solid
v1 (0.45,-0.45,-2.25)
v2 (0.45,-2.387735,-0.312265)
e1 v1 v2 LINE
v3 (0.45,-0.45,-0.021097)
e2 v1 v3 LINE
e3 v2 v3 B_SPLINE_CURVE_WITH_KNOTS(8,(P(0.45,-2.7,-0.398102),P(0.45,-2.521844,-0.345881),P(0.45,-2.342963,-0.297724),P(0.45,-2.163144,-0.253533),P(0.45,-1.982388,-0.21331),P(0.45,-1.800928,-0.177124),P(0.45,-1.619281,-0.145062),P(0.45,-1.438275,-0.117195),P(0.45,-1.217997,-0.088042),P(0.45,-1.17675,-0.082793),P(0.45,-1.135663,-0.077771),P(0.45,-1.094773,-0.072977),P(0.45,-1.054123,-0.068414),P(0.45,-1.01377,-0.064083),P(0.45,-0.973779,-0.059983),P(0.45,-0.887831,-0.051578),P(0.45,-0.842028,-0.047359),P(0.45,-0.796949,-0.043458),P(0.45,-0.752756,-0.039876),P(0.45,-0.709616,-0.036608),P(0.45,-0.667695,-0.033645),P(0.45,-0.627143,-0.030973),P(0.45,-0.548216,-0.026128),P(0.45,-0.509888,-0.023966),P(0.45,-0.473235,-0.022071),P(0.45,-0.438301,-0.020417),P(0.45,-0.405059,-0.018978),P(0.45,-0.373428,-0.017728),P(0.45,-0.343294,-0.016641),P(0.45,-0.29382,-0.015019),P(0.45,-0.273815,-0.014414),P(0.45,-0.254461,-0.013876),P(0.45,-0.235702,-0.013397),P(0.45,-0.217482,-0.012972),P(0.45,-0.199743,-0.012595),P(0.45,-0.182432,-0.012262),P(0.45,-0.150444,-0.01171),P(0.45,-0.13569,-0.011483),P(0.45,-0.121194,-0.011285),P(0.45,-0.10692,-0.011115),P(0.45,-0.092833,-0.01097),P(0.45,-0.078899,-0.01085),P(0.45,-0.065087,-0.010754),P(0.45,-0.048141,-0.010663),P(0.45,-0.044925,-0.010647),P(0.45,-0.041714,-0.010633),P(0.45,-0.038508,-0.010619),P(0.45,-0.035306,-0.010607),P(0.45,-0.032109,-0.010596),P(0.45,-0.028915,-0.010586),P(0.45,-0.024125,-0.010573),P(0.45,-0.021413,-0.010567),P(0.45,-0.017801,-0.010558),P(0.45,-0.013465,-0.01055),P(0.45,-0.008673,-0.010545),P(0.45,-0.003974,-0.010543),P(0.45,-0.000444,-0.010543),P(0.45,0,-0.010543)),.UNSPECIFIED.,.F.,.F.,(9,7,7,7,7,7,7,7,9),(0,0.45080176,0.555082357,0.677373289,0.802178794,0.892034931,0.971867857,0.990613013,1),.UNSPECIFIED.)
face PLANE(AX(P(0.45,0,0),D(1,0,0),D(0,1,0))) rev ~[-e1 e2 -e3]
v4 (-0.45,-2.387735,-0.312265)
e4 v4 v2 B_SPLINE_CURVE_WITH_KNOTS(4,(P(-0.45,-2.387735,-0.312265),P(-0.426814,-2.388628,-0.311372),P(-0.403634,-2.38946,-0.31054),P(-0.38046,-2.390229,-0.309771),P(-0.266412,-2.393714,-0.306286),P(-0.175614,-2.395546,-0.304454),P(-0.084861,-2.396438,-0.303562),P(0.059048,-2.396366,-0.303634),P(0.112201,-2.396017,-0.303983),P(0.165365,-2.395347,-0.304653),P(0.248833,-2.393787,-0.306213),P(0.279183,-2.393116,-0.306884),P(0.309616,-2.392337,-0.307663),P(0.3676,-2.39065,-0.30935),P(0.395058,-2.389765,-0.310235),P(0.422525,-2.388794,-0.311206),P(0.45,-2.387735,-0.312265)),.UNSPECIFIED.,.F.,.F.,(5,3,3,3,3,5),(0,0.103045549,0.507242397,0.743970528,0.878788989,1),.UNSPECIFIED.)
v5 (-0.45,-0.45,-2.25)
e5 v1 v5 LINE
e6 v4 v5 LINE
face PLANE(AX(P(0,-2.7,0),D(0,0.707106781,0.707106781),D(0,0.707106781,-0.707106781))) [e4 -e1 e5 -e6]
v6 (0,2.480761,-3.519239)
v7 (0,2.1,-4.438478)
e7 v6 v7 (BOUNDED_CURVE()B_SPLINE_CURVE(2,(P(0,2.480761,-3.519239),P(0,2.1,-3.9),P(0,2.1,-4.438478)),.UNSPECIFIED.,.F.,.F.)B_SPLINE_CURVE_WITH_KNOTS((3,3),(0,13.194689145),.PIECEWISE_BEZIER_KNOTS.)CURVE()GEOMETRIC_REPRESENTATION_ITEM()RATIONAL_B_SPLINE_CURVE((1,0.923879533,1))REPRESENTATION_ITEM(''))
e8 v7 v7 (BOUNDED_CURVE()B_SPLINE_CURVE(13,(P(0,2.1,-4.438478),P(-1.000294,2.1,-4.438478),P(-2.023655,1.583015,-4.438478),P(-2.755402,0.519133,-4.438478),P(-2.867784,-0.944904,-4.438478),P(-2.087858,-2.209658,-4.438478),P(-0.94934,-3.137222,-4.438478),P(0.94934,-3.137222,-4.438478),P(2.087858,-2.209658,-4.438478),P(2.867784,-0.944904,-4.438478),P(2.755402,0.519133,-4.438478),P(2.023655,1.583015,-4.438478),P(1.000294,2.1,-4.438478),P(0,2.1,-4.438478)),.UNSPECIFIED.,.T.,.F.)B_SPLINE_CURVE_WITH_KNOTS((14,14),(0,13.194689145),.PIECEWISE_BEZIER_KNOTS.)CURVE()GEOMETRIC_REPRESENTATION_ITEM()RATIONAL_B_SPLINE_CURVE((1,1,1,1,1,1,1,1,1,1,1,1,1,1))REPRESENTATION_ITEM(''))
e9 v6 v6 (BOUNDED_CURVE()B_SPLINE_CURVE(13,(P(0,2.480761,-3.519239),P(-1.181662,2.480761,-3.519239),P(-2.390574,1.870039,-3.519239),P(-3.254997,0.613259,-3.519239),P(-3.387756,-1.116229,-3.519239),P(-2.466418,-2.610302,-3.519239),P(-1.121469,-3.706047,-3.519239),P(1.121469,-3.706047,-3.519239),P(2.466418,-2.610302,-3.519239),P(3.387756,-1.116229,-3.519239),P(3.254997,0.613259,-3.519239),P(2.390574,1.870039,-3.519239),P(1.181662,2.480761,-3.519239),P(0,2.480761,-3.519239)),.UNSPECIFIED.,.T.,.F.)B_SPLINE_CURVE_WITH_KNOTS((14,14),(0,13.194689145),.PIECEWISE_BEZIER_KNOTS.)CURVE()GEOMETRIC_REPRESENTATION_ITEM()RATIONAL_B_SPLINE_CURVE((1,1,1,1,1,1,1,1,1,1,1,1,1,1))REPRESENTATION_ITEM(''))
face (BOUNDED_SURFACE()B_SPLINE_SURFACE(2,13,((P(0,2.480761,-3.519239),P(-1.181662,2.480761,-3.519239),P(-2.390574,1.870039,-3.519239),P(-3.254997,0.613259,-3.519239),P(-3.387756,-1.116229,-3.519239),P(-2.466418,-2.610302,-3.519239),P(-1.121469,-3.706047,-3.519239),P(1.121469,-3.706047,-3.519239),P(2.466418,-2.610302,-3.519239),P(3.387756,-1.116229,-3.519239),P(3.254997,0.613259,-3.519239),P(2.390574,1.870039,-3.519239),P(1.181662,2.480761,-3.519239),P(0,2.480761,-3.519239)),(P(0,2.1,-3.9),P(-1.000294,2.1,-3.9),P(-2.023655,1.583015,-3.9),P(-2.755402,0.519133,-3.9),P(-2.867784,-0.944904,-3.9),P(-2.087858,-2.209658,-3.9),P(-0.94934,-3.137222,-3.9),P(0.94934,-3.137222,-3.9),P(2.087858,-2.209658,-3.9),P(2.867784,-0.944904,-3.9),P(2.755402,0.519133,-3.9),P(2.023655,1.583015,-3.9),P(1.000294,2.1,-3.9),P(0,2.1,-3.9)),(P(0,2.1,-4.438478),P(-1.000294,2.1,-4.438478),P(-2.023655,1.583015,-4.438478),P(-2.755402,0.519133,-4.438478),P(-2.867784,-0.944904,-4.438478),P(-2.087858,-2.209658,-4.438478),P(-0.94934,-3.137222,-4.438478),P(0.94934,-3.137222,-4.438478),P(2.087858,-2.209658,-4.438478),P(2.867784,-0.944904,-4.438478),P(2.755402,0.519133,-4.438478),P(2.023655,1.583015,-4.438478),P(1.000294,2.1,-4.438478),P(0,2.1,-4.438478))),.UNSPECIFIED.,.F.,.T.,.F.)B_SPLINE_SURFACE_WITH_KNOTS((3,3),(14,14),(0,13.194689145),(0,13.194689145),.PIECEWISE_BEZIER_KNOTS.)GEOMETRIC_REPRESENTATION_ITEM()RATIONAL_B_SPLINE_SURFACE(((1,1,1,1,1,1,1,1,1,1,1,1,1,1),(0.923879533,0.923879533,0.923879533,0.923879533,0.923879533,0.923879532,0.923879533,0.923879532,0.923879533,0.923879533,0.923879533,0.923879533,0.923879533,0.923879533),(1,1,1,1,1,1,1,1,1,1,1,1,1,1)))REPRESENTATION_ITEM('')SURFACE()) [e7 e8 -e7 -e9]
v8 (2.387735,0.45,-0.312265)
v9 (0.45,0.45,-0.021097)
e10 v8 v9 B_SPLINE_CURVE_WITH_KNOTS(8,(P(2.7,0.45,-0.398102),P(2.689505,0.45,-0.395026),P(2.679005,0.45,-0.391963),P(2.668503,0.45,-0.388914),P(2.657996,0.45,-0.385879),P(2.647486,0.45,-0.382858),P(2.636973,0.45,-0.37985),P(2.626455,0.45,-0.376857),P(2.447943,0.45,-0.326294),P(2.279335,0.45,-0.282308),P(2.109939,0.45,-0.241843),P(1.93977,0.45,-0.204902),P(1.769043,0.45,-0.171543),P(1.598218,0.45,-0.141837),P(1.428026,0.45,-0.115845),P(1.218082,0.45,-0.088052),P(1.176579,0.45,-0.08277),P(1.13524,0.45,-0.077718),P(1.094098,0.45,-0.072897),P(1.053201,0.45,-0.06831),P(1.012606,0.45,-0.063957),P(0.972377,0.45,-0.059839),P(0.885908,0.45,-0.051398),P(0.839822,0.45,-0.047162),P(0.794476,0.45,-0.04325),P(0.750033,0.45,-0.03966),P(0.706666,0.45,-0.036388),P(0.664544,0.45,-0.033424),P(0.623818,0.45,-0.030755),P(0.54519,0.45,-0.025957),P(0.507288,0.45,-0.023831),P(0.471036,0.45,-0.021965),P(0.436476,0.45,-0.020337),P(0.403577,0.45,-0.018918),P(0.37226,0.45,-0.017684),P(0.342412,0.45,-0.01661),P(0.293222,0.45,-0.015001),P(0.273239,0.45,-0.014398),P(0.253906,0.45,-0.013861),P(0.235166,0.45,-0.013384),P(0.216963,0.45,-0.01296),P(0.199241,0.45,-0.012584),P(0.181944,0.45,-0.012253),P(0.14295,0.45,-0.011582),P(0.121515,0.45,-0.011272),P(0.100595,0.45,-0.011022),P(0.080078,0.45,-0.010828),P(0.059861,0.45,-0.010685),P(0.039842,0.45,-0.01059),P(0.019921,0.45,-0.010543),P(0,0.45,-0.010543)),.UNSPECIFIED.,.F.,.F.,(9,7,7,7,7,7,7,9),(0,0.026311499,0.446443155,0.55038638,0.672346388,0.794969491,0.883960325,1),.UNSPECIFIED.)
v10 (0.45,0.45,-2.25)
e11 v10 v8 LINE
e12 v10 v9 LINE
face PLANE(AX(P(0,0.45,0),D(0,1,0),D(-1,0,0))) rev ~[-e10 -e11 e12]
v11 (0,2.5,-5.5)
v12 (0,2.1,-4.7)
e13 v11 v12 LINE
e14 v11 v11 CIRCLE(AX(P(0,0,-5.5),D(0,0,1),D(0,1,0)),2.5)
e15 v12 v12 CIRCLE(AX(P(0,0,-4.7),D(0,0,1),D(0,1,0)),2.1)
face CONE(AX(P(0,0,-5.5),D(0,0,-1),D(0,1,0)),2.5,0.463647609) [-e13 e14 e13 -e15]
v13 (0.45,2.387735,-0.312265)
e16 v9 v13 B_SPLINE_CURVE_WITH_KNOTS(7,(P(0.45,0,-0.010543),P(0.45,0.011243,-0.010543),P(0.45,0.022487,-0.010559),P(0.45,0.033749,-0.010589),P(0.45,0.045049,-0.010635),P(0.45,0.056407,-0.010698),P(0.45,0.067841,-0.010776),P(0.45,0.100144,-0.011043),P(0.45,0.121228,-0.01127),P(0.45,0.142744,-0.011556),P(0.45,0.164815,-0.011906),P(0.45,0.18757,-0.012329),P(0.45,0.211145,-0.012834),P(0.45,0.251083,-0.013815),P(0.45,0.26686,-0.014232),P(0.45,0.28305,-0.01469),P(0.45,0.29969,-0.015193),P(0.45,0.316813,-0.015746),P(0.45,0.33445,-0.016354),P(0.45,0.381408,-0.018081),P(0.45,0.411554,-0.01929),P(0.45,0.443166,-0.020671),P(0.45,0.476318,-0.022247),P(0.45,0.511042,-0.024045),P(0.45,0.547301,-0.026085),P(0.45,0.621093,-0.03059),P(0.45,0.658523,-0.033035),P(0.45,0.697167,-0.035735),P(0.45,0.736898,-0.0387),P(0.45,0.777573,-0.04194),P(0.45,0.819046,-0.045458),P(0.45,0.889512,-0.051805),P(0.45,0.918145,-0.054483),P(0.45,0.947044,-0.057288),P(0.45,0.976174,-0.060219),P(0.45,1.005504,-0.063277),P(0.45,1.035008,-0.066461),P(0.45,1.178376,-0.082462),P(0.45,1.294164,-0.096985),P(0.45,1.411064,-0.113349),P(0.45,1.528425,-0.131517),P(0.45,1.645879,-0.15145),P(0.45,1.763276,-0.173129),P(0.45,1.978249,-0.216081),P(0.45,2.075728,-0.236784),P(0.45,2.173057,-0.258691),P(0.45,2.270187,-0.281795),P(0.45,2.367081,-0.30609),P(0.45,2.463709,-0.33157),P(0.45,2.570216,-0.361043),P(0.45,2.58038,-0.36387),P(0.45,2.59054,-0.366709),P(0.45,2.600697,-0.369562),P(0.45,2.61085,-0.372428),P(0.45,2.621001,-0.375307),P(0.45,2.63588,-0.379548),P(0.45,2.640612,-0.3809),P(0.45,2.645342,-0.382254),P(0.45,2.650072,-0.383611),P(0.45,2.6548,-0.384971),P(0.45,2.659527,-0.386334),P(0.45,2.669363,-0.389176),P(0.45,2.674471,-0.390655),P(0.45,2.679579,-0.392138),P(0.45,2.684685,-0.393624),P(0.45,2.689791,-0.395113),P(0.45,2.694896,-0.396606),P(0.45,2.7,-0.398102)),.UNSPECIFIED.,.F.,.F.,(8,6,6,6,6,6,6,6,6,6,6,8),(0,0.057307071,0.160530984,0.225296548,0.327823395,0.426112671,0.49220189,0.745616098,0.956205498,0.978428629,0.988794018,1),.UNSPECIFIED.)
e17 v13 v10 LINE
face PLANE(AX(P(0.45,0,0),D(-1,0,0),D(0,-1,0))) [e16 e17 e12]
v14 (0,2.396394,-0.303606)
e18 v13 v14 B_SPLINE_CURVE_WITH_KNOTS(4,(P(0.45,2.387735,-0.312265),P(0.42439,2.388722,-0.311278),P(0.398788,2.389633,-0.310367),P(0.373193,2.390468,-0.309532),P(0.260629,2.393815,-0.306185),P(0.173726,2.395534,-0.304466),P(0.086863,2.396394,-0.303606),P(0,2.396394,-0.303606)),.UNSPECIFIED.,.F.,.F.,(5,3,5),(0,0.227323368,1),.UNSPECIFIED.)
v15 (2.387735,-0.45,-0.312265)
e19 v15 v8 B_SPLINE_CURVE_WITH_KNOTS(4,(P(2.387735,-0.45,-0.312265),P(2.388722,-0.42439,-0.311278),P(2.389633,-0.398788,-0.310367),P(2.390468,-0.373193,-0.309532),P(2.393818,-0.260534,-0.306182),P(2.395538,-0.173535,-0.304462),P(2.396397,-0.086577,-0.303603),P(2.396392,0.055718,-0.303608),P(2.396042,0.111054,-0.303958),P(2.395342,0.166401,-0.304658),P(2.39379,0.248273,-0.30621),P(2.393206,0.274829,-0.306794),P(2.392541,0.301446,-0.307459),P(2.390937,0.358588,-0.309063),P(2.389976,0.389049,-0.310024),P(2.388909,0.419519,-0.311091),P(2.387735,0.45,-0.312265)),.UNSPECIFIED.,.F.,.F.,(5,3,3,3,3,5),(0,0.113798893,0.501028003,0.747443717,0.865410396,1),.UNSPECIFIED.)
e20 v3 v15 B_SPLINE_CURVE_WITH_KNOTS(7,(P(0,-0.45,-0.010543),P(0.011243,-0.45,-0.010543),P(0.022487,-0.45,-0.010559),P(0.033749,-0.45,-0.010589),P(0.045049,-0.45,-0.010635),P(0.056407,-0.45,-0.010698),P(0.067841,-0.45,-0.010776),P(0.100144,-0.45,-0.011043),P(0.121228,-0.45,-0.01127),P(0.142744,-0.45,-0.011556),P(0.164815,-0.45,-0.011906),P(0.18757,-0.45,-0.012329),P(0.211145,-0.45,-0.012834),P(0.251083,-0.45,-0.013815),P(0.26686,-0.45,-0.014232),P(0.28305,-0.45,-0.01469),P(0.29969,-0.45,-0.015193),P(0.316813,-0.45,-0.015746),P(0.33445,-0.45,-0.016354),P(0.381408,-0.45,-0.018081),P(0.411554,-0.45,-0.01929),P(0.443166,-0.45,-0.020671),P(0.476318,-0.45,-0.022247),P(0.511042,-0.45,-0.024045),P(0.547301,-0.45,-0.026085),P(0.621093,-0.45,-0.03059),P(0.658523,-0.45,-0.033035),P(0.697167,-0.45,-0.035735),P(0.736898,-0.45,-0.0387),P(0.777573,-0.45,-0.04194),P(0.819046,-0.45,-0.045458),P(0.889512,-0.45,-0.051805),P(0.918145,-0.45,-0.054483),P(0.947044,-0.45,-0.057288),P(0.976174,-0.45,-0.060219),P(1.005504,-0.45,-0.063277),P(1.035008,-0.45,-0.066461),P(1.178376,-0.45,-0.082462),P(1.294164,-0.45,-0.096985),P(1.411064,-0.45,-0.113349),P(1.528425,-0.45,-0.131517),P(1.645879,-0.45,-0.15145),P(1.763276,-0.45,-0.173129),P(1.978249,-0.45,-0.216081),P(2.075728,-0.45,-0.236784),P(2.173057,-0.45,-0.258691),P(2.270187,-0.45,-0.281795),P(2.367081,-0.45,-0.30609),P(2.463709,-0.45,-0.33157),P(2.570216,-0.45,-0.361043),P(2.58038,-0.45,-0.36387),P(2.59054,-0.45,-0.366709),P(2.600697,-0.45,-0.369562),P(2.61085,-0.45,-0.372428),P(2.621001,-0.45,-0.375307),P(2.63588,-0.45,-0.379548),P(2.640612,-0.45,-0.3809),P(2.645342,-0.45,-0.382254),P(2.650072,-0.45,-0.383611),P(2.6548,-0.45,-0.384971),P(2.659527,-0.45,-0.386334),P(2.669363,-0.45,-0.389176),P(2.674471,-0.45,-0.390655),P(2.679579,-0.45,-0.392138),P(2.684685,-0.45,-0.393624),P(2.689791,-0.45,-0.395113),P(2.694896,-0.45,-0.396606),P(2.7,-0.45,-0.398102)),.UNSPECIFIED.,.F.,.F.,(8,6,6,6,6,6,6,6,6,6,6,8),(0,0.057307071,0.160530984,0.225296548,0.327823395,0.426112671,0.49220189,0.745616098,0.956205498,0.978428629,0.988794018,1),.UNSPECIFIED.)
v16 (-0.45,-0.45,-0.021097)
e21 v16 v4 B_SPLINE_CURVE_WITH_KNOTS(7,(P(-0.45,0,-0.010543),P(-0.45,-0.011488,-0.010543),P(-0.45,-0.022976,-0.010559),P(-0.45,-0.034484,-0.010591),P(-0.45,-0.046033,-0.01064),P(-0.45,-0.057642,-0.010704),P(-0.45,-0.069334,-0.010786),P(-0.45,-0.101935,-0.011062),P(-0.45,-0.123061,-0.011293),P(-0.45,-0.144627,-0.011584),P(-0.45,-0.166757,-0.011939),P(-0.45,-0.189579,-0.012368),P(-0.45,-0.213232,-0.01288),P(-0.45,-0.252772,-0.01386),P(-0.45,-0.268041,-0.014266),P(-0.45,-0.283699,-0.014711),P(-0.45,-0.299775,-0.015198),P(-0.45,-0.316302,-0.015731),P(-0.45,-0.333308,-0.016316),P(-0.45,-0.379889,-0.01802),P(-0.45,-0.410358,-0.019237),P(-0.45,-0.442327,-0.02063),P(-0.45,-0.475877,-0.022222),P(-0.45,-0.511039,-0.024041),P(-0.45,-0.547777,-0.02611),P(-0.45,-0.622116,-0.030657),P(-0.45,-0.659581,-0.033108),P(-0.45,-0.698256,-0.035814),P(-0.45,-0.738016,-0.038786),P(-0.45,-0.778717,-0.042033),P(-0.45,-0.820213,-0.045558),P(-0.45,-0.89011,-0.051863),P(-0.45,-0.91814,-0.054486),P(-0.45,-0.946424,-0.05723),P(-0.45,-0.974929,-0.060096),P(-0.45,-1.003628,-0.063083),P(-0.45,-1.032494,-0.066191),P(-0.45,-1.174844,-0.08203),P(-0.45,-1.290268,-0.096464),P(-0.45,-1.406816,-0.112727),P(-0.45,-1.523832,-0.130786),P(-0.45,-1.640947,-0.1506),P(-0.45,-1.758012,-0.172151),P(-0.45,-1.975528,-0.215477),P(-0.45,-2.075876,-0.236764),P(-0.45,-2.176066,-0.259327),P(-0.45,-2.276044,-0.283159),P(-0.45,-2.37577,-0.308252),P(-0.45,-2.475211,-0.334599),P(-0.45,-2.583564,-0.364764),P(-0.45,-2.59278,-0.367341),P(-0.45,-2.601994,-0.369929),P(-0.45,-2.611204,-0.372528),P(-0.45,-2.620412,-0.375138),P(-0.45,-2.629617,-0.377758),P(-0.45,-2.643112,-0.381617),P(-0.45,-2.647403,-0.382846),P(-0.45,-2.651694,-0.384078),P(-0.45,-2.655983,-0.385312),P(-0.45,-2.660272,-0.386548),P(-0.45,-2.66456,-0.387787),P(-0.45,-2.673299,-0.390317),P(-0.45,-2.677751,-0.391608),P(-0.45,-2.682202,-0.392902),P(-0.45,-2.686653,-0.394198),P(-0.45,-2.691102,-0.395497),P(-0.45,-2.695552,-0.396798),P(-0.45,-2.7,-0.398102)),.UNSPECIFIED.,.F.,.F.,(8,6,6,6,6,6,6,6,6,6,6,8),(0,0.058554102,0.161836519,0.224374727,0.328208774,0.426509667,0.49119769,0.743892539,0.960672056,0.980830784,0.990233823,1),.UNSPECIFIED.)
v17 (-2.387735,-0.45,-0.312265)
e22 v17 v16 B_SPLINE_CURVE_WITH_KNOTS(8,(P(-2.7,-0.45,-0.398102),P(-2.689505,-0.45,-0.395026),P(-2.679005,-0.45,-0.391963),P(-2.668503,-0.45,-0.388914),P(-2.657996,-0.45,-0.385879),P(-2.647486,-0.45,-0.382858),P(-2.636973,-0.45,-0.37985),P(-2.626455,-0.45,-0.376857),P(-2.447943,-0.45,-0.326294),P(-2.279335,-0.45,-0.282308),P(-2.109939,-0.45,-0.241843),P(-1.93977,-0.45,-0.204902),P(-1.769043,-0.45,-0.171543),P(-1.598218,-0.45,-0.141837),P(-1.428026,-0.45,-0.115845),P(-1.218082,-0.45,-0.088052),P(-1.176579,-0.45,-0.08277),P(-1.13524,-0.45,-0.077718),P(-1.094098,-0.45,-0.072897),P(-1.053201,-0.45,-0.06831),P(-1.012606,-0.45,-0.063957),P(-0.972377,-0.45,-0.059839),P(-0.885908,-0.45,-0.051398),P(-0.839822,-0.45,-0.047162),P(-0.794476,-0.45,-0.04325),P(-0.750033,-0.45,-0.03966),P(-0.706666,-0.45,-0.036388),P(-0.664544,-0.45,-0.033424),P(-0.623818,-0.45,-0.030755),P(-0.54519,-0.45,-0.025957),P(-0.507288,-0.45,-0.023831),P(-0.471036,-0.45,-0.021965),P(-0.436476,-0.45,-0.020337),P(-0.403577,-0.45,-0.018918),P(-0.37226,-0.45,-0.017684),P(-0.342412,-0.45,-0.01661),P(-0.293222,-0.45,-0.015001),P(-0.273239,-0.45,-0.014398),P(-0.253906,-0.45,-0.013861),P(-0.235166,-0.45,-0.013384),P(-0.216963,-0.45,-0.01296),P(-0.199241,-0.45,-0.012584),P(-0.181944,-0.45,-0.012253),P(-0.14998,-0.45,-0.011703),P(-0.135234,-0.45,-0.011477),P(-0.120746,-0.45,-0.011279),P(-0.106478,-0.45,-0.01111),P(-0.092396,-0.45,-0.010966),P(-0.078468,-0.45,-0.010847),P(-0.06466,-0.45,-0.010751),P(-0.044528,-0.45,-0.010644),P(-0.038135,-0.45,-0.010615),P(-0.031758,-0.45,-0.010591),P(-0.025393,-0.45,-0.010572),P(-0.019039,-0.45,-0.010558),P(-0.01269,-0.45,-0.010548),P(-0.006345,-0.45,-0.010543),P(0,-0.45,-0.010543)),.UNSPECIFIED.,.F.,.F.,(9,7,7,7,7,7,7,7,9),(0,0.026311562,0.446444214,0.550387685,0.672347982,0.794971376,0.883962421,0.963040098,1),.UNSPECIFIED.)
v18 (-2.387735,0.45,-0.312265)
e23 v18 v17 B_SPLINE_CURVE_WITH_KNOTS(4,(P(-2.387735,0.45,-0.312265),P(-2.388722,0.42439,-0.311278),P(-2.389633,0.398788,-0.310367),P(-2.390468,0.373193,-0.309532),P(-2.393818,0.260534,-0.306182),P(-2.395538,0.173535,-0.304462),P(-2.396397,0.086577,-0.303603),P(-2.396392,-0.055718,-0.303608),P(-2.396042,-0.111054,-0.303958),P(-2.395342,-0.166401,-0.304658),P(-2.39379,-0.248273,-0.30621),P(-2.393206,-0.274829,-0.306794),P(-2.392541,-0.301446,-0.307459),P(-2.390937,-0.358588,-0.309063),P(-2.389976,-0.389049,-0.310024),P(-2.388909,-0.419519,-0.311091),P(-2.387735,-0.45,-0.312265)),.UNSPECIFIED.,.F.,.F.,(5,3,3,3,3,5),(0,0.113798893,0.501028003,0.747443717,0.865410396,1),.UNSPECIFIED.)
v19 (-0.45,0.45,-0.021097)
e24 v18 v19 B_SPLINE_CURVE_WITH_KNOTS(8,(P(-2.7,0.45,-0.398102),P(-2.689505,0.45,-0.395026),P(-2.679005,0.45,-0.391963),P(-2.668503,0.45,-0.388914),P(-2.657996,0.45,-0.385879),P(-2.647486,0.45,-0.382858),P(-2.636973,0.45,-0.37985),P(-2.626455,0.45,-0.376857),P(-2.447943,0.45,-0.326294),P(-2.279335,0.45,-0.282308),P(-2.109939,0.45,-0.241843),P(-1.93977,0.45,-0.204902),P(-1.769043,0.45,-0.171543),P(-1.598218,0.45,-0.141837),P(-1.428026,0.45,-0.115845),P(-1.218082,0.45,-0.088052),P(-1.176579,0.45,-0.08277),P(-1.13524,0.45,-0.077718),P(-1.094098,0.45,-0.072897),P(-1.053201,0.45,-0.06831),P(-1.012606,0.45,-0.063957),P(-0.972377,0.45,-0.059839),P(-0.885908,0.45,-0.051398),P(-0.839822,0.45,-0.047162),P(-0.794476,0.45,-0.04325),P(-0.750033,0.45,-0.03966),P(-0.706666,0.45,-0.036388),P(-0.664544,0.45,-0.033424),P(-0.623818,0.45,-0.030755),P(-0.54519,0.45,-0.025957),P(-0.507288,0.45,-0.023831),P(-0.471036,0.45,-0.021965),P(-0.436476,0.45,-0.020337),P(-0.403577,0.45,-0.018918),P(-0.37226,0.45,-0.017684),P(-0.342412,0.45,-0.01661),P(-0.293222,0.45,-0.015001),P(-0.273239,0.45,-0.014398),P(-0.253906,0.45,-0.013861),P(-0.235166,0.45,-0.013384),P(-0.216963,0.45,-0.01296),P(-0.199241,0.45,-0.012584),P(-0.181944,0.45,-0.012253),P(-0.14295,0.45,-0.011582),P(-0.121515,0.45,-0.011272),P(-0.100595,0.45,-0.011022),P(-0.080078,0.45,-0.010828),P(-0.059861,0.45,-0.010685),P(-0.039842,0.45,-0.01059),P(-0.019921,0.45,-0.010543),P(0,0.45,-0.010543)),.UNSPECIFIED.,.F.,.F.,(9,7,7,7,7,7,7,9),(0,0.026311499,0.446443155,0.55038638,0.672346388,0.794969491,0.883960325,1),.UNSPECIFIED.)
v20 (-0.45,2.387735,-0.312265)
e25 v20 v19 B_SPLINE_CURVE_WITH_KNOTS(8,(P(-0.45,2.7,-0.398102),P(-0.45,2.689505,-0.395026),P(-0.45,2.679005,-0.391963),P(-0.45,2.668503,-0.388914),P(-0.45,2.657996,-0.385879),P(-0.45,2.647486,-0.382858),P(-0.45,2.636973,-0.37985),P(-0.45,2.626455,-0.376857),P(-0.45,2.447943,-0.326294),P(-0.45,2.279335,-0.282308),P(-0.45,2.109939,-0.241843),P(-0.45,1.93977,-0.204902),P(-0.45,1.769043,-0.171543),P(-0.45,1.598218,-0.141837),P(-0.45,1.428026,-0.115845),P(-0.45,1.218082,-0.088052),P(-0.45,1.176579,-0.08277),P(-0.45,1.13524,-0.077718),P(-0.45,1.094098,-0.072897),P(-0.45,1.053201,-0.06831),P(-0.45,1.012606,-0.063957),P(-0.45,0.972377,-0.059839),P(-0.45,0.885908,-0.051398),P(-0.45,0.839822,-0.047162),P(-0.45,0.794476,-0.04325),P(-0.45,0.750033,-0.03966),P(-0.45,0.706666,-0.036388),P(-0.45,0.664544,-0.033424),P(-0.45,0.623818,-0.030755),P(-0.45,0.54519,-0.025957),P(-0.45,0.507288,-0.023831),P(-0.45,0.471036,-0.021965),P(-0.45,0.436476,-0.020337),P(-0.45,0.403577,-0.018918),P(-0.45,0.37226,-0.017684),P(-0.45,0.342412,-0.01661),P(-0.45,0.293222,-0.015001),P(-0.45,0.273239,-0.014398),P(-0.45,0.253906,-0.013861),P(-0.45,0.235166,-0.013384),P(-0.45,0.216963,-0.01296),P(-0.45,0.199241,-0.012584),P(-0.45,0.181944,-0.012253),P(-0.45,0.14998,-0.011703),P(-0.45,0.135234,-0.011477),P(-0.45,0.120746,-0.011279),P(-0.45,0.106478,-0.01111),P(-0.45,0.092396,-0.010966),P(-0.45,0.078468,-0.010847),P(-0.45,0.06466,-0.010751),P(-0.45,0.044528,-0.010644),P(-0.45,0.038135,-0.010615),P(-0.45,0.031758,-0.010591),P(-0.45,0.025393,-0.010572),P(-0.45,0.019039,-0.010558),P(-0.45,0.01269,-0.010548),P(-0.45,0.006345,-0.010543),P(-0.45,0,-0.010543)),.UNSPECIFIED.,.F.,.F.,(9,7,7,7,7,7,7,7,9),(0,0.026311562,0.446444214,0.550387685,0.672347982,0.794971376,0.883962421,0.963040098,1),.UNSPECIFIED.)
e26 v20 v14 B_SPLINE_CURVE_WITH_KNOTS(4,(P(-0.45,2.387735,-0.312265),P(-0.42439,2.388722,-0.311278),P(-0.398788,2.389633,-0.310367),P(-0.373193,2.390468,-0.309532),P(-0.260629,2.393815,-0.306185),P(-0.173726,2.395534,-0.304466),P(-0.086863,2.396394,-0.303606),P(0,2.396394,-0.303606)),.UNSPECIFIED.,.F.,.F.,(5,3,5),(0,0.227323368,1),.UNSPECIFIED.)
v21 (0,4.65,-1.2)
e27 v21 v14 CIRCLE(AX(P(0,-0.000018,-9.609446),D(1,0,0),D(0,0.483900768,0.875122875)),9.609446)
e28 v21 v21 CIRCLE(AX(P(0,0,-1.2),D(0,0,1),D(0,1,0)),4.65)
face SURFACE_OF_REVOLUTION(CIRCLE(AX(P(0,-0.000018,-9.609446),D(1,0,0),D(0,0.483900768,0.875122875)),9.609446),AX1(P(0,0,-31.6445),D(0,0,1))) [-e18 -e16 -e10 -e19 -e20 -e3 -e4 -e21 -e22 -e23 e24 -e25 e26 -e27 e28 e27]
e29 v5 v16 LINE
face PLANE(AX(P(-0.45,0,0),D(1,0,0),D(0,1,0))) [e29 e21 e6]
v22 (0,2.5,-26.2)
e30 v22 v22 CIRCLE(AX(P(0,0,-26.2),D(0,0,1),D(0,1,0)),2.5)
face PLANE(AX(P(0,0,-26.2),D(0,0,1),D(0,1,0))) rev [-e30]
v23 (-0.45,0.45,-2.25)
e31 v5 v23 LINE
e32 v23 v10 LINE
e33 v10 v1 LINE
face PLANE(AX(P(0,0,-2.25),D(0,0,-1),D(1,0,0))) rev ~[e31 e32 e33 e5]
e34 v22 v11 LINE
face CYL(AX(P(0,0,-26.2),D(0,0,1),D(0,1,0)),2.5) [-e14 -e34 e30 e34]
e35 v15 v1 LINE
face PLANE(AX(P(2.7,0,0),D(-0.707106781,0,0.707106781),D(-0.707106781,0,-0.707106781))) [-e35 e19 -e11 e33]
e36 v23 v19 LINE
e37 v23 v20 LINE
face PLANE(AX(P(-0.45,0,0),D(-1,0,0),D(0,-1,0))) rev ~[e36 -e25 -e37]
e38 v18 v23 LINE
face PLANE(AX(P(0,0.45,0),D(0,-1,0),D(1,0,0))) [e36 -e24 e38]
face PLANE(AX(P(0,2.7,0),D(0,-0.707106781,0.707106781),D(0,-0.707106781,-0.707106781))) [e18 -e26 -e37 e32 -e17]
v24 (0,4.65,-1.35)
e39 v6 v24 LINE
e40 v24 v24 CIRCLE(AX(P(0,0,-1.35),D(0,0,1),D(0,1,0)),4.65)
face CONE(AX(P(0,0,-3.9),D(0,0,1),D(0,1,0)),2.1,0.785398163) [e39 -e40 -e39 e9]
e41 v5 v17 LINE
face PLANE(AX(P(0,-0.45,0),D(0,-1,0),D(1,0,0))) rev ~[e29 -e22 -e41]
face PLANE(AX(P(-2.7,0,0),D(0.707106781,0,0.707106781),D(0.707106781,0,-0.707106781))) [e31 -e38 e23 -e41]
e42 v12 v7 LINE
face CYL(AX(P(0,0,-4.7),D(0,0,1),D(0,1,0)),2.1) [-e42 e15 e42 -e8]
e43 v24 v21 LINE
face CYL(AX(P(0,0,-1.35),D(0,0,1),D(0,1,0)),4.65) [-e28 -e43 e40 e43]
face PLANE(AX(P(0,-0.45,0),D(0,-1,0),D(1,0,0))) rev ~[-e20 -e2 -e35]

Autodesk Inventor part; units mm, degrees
ref_plane "WorkPlane2" through (0, 0, 0) normal (0, 0, 1) x (1, 0, 0)
sketch "Sketch1" plane through (0, 0, 0) normal (1, 0, 0) x (0, 1, 0)
  point P0 (0, 0)
ref_plane "Work Plane2" through (0, 0, -3.9) normal (0, 0, 1) x (1, 0, 0)
ref_plane "WorkPlane3" through (0, 0, 7) normal (0, 0, 1) x (1, 0, 0)
sketch "Sketch2" plane through (0, 0, 0) normal (0, 1, 0) x (-1, 0, 0)
  point P0 (0, 0)
sketch "Sketch3" plane through (0, 0, 0) normal (1, 0, 0) x (0, 1, 0)
  line L0 (2.5, -5.5) -> (2.1, -4.7)
  line L1 (2.5, -26.2) -> (2.5, -5.5)
  line L2 (0, -26.2) -> (2.5, -26.2)
  line L3 (0, 0) -> (0, -26.2)
  arc A0 (4.65, -1.2) -> (0, 0) centre (0, -9.6094) ccw
  line L4 (4.65, -1.35) -> (4.65, -1.2)
  line L5 (2.1, -3.9) -> (4.65, -1.35)
  line L6 (2.1, -4.7) -> (2.1, -3.9)
  line L7 (0, -31.6445) -> (0, 31.6445) construction
  line L8 (0, -31.6445) -> (0, 31.6445)
  line L9 (0, -44.3023) -> (0, 44.3023) projected
  dimension "d2" = 2.5
  dimension "d4" = 2.1
  dimension "d6" = 0.8
  dimension "d8" = 2.7
  dimension "d10" = 135
  dimension "d12" = 4.65
  dimension "d14" = 0
  dimension "d16" = 1.2
  dimension "d18" = 25
  dimension "d22" = 20.7
revolve "Revolution1" add sketch "Sketch3" angle 360 about axis through (0, 0, -31.6445) along (0, 0, 1)
fillet "Fillet1" radius 1.3 1 edges at (0, -2.1, -3.9)
sketch "Sketch4" plane through (0, 0, 0) normal (0, 1, 0) x (-1, 0, 0)
  line L0 (0, 0) -> (-2.7, 0)
  line L1 (0, -2.25) -> (0, 0)
  line L2 (-2.7, 0) -> (-0.45, -2.25)
  line L3 (0, -11.5313) -> (0, 1.9219) projected
  arc A0 (4.65, -1.2) -> (-4.65, -1.2) centre (0, -9.6094) ccw projected
  line L4 (0, -2.25) -> (-0.45, -2.25)
  point P0 (0, -2.7)
  dimension "d30" = 45
  dimension "d33" = 5.4
  dimension "d34" = 0.45
  dimension "d35" = 90
extrude "Extrusion1" cut sketch "Sketch4" along normal mid plane 0.9
pattern_circular "PolarArray1" count 4 over 360 about axis through (0, 0, -10) along (0, 0, 1) of "Extrusion1"
thread "Thread1" size "M5x0.8" class "6g" standard "ISO Metric profile" full length
ref_plane "MSC_PF1" through (0, 0, 0) normal (1, 0, 0) x (0, 1, 0)
ref_plane "MSC_PT1" through (0, 4.65, -1.35) normal (0, 0, -1) x (-1, 0, 0)
equation "\"d2\" = 0.5 * NND"
equation "\"d4\" = 0.5 * msp_mdtds"
equation "\"d6\" = msp_x"
equation "\"d8\" = ParK"
equation "\"d12\" = 0.5 * Dk"
equation "\"d16\" = ParF"
equation "\"d18\" = NLG"
equation "\"d22\" = b"
equation "\"d24\" = r"
equation "\"d33\" = M"
equation "\"d34\" = 0.0833333 * M"
equation "\"d31\" = 0.166667 * M"
equation "\"d39\" = b"
equation "\"PTC\" = 0.8"
equation "\"msp_x\" = PTC"
equation "\"NLG\" = 25"
equation "\"NND\" = 5"
equation "\"ParK\" = 2.7"
equation "\"r\" = 1.3"
equation "\"msp_mdtds\" = NND - PTC"
equation "\"b\" = 20.7"
equation "\"Dk\" = 9.3"
equation "\"ParF\" = 1.2"
equation "\"M\" = 5.4"
equation "\"ParA\" = 1.6"
equation "\"THREADDIA\" = NND"
equation "\"TEMPLATE\" = 1.2345"
properties part number "ISO 7047 - M5x25 - 4.8 - H" material "Steel"
